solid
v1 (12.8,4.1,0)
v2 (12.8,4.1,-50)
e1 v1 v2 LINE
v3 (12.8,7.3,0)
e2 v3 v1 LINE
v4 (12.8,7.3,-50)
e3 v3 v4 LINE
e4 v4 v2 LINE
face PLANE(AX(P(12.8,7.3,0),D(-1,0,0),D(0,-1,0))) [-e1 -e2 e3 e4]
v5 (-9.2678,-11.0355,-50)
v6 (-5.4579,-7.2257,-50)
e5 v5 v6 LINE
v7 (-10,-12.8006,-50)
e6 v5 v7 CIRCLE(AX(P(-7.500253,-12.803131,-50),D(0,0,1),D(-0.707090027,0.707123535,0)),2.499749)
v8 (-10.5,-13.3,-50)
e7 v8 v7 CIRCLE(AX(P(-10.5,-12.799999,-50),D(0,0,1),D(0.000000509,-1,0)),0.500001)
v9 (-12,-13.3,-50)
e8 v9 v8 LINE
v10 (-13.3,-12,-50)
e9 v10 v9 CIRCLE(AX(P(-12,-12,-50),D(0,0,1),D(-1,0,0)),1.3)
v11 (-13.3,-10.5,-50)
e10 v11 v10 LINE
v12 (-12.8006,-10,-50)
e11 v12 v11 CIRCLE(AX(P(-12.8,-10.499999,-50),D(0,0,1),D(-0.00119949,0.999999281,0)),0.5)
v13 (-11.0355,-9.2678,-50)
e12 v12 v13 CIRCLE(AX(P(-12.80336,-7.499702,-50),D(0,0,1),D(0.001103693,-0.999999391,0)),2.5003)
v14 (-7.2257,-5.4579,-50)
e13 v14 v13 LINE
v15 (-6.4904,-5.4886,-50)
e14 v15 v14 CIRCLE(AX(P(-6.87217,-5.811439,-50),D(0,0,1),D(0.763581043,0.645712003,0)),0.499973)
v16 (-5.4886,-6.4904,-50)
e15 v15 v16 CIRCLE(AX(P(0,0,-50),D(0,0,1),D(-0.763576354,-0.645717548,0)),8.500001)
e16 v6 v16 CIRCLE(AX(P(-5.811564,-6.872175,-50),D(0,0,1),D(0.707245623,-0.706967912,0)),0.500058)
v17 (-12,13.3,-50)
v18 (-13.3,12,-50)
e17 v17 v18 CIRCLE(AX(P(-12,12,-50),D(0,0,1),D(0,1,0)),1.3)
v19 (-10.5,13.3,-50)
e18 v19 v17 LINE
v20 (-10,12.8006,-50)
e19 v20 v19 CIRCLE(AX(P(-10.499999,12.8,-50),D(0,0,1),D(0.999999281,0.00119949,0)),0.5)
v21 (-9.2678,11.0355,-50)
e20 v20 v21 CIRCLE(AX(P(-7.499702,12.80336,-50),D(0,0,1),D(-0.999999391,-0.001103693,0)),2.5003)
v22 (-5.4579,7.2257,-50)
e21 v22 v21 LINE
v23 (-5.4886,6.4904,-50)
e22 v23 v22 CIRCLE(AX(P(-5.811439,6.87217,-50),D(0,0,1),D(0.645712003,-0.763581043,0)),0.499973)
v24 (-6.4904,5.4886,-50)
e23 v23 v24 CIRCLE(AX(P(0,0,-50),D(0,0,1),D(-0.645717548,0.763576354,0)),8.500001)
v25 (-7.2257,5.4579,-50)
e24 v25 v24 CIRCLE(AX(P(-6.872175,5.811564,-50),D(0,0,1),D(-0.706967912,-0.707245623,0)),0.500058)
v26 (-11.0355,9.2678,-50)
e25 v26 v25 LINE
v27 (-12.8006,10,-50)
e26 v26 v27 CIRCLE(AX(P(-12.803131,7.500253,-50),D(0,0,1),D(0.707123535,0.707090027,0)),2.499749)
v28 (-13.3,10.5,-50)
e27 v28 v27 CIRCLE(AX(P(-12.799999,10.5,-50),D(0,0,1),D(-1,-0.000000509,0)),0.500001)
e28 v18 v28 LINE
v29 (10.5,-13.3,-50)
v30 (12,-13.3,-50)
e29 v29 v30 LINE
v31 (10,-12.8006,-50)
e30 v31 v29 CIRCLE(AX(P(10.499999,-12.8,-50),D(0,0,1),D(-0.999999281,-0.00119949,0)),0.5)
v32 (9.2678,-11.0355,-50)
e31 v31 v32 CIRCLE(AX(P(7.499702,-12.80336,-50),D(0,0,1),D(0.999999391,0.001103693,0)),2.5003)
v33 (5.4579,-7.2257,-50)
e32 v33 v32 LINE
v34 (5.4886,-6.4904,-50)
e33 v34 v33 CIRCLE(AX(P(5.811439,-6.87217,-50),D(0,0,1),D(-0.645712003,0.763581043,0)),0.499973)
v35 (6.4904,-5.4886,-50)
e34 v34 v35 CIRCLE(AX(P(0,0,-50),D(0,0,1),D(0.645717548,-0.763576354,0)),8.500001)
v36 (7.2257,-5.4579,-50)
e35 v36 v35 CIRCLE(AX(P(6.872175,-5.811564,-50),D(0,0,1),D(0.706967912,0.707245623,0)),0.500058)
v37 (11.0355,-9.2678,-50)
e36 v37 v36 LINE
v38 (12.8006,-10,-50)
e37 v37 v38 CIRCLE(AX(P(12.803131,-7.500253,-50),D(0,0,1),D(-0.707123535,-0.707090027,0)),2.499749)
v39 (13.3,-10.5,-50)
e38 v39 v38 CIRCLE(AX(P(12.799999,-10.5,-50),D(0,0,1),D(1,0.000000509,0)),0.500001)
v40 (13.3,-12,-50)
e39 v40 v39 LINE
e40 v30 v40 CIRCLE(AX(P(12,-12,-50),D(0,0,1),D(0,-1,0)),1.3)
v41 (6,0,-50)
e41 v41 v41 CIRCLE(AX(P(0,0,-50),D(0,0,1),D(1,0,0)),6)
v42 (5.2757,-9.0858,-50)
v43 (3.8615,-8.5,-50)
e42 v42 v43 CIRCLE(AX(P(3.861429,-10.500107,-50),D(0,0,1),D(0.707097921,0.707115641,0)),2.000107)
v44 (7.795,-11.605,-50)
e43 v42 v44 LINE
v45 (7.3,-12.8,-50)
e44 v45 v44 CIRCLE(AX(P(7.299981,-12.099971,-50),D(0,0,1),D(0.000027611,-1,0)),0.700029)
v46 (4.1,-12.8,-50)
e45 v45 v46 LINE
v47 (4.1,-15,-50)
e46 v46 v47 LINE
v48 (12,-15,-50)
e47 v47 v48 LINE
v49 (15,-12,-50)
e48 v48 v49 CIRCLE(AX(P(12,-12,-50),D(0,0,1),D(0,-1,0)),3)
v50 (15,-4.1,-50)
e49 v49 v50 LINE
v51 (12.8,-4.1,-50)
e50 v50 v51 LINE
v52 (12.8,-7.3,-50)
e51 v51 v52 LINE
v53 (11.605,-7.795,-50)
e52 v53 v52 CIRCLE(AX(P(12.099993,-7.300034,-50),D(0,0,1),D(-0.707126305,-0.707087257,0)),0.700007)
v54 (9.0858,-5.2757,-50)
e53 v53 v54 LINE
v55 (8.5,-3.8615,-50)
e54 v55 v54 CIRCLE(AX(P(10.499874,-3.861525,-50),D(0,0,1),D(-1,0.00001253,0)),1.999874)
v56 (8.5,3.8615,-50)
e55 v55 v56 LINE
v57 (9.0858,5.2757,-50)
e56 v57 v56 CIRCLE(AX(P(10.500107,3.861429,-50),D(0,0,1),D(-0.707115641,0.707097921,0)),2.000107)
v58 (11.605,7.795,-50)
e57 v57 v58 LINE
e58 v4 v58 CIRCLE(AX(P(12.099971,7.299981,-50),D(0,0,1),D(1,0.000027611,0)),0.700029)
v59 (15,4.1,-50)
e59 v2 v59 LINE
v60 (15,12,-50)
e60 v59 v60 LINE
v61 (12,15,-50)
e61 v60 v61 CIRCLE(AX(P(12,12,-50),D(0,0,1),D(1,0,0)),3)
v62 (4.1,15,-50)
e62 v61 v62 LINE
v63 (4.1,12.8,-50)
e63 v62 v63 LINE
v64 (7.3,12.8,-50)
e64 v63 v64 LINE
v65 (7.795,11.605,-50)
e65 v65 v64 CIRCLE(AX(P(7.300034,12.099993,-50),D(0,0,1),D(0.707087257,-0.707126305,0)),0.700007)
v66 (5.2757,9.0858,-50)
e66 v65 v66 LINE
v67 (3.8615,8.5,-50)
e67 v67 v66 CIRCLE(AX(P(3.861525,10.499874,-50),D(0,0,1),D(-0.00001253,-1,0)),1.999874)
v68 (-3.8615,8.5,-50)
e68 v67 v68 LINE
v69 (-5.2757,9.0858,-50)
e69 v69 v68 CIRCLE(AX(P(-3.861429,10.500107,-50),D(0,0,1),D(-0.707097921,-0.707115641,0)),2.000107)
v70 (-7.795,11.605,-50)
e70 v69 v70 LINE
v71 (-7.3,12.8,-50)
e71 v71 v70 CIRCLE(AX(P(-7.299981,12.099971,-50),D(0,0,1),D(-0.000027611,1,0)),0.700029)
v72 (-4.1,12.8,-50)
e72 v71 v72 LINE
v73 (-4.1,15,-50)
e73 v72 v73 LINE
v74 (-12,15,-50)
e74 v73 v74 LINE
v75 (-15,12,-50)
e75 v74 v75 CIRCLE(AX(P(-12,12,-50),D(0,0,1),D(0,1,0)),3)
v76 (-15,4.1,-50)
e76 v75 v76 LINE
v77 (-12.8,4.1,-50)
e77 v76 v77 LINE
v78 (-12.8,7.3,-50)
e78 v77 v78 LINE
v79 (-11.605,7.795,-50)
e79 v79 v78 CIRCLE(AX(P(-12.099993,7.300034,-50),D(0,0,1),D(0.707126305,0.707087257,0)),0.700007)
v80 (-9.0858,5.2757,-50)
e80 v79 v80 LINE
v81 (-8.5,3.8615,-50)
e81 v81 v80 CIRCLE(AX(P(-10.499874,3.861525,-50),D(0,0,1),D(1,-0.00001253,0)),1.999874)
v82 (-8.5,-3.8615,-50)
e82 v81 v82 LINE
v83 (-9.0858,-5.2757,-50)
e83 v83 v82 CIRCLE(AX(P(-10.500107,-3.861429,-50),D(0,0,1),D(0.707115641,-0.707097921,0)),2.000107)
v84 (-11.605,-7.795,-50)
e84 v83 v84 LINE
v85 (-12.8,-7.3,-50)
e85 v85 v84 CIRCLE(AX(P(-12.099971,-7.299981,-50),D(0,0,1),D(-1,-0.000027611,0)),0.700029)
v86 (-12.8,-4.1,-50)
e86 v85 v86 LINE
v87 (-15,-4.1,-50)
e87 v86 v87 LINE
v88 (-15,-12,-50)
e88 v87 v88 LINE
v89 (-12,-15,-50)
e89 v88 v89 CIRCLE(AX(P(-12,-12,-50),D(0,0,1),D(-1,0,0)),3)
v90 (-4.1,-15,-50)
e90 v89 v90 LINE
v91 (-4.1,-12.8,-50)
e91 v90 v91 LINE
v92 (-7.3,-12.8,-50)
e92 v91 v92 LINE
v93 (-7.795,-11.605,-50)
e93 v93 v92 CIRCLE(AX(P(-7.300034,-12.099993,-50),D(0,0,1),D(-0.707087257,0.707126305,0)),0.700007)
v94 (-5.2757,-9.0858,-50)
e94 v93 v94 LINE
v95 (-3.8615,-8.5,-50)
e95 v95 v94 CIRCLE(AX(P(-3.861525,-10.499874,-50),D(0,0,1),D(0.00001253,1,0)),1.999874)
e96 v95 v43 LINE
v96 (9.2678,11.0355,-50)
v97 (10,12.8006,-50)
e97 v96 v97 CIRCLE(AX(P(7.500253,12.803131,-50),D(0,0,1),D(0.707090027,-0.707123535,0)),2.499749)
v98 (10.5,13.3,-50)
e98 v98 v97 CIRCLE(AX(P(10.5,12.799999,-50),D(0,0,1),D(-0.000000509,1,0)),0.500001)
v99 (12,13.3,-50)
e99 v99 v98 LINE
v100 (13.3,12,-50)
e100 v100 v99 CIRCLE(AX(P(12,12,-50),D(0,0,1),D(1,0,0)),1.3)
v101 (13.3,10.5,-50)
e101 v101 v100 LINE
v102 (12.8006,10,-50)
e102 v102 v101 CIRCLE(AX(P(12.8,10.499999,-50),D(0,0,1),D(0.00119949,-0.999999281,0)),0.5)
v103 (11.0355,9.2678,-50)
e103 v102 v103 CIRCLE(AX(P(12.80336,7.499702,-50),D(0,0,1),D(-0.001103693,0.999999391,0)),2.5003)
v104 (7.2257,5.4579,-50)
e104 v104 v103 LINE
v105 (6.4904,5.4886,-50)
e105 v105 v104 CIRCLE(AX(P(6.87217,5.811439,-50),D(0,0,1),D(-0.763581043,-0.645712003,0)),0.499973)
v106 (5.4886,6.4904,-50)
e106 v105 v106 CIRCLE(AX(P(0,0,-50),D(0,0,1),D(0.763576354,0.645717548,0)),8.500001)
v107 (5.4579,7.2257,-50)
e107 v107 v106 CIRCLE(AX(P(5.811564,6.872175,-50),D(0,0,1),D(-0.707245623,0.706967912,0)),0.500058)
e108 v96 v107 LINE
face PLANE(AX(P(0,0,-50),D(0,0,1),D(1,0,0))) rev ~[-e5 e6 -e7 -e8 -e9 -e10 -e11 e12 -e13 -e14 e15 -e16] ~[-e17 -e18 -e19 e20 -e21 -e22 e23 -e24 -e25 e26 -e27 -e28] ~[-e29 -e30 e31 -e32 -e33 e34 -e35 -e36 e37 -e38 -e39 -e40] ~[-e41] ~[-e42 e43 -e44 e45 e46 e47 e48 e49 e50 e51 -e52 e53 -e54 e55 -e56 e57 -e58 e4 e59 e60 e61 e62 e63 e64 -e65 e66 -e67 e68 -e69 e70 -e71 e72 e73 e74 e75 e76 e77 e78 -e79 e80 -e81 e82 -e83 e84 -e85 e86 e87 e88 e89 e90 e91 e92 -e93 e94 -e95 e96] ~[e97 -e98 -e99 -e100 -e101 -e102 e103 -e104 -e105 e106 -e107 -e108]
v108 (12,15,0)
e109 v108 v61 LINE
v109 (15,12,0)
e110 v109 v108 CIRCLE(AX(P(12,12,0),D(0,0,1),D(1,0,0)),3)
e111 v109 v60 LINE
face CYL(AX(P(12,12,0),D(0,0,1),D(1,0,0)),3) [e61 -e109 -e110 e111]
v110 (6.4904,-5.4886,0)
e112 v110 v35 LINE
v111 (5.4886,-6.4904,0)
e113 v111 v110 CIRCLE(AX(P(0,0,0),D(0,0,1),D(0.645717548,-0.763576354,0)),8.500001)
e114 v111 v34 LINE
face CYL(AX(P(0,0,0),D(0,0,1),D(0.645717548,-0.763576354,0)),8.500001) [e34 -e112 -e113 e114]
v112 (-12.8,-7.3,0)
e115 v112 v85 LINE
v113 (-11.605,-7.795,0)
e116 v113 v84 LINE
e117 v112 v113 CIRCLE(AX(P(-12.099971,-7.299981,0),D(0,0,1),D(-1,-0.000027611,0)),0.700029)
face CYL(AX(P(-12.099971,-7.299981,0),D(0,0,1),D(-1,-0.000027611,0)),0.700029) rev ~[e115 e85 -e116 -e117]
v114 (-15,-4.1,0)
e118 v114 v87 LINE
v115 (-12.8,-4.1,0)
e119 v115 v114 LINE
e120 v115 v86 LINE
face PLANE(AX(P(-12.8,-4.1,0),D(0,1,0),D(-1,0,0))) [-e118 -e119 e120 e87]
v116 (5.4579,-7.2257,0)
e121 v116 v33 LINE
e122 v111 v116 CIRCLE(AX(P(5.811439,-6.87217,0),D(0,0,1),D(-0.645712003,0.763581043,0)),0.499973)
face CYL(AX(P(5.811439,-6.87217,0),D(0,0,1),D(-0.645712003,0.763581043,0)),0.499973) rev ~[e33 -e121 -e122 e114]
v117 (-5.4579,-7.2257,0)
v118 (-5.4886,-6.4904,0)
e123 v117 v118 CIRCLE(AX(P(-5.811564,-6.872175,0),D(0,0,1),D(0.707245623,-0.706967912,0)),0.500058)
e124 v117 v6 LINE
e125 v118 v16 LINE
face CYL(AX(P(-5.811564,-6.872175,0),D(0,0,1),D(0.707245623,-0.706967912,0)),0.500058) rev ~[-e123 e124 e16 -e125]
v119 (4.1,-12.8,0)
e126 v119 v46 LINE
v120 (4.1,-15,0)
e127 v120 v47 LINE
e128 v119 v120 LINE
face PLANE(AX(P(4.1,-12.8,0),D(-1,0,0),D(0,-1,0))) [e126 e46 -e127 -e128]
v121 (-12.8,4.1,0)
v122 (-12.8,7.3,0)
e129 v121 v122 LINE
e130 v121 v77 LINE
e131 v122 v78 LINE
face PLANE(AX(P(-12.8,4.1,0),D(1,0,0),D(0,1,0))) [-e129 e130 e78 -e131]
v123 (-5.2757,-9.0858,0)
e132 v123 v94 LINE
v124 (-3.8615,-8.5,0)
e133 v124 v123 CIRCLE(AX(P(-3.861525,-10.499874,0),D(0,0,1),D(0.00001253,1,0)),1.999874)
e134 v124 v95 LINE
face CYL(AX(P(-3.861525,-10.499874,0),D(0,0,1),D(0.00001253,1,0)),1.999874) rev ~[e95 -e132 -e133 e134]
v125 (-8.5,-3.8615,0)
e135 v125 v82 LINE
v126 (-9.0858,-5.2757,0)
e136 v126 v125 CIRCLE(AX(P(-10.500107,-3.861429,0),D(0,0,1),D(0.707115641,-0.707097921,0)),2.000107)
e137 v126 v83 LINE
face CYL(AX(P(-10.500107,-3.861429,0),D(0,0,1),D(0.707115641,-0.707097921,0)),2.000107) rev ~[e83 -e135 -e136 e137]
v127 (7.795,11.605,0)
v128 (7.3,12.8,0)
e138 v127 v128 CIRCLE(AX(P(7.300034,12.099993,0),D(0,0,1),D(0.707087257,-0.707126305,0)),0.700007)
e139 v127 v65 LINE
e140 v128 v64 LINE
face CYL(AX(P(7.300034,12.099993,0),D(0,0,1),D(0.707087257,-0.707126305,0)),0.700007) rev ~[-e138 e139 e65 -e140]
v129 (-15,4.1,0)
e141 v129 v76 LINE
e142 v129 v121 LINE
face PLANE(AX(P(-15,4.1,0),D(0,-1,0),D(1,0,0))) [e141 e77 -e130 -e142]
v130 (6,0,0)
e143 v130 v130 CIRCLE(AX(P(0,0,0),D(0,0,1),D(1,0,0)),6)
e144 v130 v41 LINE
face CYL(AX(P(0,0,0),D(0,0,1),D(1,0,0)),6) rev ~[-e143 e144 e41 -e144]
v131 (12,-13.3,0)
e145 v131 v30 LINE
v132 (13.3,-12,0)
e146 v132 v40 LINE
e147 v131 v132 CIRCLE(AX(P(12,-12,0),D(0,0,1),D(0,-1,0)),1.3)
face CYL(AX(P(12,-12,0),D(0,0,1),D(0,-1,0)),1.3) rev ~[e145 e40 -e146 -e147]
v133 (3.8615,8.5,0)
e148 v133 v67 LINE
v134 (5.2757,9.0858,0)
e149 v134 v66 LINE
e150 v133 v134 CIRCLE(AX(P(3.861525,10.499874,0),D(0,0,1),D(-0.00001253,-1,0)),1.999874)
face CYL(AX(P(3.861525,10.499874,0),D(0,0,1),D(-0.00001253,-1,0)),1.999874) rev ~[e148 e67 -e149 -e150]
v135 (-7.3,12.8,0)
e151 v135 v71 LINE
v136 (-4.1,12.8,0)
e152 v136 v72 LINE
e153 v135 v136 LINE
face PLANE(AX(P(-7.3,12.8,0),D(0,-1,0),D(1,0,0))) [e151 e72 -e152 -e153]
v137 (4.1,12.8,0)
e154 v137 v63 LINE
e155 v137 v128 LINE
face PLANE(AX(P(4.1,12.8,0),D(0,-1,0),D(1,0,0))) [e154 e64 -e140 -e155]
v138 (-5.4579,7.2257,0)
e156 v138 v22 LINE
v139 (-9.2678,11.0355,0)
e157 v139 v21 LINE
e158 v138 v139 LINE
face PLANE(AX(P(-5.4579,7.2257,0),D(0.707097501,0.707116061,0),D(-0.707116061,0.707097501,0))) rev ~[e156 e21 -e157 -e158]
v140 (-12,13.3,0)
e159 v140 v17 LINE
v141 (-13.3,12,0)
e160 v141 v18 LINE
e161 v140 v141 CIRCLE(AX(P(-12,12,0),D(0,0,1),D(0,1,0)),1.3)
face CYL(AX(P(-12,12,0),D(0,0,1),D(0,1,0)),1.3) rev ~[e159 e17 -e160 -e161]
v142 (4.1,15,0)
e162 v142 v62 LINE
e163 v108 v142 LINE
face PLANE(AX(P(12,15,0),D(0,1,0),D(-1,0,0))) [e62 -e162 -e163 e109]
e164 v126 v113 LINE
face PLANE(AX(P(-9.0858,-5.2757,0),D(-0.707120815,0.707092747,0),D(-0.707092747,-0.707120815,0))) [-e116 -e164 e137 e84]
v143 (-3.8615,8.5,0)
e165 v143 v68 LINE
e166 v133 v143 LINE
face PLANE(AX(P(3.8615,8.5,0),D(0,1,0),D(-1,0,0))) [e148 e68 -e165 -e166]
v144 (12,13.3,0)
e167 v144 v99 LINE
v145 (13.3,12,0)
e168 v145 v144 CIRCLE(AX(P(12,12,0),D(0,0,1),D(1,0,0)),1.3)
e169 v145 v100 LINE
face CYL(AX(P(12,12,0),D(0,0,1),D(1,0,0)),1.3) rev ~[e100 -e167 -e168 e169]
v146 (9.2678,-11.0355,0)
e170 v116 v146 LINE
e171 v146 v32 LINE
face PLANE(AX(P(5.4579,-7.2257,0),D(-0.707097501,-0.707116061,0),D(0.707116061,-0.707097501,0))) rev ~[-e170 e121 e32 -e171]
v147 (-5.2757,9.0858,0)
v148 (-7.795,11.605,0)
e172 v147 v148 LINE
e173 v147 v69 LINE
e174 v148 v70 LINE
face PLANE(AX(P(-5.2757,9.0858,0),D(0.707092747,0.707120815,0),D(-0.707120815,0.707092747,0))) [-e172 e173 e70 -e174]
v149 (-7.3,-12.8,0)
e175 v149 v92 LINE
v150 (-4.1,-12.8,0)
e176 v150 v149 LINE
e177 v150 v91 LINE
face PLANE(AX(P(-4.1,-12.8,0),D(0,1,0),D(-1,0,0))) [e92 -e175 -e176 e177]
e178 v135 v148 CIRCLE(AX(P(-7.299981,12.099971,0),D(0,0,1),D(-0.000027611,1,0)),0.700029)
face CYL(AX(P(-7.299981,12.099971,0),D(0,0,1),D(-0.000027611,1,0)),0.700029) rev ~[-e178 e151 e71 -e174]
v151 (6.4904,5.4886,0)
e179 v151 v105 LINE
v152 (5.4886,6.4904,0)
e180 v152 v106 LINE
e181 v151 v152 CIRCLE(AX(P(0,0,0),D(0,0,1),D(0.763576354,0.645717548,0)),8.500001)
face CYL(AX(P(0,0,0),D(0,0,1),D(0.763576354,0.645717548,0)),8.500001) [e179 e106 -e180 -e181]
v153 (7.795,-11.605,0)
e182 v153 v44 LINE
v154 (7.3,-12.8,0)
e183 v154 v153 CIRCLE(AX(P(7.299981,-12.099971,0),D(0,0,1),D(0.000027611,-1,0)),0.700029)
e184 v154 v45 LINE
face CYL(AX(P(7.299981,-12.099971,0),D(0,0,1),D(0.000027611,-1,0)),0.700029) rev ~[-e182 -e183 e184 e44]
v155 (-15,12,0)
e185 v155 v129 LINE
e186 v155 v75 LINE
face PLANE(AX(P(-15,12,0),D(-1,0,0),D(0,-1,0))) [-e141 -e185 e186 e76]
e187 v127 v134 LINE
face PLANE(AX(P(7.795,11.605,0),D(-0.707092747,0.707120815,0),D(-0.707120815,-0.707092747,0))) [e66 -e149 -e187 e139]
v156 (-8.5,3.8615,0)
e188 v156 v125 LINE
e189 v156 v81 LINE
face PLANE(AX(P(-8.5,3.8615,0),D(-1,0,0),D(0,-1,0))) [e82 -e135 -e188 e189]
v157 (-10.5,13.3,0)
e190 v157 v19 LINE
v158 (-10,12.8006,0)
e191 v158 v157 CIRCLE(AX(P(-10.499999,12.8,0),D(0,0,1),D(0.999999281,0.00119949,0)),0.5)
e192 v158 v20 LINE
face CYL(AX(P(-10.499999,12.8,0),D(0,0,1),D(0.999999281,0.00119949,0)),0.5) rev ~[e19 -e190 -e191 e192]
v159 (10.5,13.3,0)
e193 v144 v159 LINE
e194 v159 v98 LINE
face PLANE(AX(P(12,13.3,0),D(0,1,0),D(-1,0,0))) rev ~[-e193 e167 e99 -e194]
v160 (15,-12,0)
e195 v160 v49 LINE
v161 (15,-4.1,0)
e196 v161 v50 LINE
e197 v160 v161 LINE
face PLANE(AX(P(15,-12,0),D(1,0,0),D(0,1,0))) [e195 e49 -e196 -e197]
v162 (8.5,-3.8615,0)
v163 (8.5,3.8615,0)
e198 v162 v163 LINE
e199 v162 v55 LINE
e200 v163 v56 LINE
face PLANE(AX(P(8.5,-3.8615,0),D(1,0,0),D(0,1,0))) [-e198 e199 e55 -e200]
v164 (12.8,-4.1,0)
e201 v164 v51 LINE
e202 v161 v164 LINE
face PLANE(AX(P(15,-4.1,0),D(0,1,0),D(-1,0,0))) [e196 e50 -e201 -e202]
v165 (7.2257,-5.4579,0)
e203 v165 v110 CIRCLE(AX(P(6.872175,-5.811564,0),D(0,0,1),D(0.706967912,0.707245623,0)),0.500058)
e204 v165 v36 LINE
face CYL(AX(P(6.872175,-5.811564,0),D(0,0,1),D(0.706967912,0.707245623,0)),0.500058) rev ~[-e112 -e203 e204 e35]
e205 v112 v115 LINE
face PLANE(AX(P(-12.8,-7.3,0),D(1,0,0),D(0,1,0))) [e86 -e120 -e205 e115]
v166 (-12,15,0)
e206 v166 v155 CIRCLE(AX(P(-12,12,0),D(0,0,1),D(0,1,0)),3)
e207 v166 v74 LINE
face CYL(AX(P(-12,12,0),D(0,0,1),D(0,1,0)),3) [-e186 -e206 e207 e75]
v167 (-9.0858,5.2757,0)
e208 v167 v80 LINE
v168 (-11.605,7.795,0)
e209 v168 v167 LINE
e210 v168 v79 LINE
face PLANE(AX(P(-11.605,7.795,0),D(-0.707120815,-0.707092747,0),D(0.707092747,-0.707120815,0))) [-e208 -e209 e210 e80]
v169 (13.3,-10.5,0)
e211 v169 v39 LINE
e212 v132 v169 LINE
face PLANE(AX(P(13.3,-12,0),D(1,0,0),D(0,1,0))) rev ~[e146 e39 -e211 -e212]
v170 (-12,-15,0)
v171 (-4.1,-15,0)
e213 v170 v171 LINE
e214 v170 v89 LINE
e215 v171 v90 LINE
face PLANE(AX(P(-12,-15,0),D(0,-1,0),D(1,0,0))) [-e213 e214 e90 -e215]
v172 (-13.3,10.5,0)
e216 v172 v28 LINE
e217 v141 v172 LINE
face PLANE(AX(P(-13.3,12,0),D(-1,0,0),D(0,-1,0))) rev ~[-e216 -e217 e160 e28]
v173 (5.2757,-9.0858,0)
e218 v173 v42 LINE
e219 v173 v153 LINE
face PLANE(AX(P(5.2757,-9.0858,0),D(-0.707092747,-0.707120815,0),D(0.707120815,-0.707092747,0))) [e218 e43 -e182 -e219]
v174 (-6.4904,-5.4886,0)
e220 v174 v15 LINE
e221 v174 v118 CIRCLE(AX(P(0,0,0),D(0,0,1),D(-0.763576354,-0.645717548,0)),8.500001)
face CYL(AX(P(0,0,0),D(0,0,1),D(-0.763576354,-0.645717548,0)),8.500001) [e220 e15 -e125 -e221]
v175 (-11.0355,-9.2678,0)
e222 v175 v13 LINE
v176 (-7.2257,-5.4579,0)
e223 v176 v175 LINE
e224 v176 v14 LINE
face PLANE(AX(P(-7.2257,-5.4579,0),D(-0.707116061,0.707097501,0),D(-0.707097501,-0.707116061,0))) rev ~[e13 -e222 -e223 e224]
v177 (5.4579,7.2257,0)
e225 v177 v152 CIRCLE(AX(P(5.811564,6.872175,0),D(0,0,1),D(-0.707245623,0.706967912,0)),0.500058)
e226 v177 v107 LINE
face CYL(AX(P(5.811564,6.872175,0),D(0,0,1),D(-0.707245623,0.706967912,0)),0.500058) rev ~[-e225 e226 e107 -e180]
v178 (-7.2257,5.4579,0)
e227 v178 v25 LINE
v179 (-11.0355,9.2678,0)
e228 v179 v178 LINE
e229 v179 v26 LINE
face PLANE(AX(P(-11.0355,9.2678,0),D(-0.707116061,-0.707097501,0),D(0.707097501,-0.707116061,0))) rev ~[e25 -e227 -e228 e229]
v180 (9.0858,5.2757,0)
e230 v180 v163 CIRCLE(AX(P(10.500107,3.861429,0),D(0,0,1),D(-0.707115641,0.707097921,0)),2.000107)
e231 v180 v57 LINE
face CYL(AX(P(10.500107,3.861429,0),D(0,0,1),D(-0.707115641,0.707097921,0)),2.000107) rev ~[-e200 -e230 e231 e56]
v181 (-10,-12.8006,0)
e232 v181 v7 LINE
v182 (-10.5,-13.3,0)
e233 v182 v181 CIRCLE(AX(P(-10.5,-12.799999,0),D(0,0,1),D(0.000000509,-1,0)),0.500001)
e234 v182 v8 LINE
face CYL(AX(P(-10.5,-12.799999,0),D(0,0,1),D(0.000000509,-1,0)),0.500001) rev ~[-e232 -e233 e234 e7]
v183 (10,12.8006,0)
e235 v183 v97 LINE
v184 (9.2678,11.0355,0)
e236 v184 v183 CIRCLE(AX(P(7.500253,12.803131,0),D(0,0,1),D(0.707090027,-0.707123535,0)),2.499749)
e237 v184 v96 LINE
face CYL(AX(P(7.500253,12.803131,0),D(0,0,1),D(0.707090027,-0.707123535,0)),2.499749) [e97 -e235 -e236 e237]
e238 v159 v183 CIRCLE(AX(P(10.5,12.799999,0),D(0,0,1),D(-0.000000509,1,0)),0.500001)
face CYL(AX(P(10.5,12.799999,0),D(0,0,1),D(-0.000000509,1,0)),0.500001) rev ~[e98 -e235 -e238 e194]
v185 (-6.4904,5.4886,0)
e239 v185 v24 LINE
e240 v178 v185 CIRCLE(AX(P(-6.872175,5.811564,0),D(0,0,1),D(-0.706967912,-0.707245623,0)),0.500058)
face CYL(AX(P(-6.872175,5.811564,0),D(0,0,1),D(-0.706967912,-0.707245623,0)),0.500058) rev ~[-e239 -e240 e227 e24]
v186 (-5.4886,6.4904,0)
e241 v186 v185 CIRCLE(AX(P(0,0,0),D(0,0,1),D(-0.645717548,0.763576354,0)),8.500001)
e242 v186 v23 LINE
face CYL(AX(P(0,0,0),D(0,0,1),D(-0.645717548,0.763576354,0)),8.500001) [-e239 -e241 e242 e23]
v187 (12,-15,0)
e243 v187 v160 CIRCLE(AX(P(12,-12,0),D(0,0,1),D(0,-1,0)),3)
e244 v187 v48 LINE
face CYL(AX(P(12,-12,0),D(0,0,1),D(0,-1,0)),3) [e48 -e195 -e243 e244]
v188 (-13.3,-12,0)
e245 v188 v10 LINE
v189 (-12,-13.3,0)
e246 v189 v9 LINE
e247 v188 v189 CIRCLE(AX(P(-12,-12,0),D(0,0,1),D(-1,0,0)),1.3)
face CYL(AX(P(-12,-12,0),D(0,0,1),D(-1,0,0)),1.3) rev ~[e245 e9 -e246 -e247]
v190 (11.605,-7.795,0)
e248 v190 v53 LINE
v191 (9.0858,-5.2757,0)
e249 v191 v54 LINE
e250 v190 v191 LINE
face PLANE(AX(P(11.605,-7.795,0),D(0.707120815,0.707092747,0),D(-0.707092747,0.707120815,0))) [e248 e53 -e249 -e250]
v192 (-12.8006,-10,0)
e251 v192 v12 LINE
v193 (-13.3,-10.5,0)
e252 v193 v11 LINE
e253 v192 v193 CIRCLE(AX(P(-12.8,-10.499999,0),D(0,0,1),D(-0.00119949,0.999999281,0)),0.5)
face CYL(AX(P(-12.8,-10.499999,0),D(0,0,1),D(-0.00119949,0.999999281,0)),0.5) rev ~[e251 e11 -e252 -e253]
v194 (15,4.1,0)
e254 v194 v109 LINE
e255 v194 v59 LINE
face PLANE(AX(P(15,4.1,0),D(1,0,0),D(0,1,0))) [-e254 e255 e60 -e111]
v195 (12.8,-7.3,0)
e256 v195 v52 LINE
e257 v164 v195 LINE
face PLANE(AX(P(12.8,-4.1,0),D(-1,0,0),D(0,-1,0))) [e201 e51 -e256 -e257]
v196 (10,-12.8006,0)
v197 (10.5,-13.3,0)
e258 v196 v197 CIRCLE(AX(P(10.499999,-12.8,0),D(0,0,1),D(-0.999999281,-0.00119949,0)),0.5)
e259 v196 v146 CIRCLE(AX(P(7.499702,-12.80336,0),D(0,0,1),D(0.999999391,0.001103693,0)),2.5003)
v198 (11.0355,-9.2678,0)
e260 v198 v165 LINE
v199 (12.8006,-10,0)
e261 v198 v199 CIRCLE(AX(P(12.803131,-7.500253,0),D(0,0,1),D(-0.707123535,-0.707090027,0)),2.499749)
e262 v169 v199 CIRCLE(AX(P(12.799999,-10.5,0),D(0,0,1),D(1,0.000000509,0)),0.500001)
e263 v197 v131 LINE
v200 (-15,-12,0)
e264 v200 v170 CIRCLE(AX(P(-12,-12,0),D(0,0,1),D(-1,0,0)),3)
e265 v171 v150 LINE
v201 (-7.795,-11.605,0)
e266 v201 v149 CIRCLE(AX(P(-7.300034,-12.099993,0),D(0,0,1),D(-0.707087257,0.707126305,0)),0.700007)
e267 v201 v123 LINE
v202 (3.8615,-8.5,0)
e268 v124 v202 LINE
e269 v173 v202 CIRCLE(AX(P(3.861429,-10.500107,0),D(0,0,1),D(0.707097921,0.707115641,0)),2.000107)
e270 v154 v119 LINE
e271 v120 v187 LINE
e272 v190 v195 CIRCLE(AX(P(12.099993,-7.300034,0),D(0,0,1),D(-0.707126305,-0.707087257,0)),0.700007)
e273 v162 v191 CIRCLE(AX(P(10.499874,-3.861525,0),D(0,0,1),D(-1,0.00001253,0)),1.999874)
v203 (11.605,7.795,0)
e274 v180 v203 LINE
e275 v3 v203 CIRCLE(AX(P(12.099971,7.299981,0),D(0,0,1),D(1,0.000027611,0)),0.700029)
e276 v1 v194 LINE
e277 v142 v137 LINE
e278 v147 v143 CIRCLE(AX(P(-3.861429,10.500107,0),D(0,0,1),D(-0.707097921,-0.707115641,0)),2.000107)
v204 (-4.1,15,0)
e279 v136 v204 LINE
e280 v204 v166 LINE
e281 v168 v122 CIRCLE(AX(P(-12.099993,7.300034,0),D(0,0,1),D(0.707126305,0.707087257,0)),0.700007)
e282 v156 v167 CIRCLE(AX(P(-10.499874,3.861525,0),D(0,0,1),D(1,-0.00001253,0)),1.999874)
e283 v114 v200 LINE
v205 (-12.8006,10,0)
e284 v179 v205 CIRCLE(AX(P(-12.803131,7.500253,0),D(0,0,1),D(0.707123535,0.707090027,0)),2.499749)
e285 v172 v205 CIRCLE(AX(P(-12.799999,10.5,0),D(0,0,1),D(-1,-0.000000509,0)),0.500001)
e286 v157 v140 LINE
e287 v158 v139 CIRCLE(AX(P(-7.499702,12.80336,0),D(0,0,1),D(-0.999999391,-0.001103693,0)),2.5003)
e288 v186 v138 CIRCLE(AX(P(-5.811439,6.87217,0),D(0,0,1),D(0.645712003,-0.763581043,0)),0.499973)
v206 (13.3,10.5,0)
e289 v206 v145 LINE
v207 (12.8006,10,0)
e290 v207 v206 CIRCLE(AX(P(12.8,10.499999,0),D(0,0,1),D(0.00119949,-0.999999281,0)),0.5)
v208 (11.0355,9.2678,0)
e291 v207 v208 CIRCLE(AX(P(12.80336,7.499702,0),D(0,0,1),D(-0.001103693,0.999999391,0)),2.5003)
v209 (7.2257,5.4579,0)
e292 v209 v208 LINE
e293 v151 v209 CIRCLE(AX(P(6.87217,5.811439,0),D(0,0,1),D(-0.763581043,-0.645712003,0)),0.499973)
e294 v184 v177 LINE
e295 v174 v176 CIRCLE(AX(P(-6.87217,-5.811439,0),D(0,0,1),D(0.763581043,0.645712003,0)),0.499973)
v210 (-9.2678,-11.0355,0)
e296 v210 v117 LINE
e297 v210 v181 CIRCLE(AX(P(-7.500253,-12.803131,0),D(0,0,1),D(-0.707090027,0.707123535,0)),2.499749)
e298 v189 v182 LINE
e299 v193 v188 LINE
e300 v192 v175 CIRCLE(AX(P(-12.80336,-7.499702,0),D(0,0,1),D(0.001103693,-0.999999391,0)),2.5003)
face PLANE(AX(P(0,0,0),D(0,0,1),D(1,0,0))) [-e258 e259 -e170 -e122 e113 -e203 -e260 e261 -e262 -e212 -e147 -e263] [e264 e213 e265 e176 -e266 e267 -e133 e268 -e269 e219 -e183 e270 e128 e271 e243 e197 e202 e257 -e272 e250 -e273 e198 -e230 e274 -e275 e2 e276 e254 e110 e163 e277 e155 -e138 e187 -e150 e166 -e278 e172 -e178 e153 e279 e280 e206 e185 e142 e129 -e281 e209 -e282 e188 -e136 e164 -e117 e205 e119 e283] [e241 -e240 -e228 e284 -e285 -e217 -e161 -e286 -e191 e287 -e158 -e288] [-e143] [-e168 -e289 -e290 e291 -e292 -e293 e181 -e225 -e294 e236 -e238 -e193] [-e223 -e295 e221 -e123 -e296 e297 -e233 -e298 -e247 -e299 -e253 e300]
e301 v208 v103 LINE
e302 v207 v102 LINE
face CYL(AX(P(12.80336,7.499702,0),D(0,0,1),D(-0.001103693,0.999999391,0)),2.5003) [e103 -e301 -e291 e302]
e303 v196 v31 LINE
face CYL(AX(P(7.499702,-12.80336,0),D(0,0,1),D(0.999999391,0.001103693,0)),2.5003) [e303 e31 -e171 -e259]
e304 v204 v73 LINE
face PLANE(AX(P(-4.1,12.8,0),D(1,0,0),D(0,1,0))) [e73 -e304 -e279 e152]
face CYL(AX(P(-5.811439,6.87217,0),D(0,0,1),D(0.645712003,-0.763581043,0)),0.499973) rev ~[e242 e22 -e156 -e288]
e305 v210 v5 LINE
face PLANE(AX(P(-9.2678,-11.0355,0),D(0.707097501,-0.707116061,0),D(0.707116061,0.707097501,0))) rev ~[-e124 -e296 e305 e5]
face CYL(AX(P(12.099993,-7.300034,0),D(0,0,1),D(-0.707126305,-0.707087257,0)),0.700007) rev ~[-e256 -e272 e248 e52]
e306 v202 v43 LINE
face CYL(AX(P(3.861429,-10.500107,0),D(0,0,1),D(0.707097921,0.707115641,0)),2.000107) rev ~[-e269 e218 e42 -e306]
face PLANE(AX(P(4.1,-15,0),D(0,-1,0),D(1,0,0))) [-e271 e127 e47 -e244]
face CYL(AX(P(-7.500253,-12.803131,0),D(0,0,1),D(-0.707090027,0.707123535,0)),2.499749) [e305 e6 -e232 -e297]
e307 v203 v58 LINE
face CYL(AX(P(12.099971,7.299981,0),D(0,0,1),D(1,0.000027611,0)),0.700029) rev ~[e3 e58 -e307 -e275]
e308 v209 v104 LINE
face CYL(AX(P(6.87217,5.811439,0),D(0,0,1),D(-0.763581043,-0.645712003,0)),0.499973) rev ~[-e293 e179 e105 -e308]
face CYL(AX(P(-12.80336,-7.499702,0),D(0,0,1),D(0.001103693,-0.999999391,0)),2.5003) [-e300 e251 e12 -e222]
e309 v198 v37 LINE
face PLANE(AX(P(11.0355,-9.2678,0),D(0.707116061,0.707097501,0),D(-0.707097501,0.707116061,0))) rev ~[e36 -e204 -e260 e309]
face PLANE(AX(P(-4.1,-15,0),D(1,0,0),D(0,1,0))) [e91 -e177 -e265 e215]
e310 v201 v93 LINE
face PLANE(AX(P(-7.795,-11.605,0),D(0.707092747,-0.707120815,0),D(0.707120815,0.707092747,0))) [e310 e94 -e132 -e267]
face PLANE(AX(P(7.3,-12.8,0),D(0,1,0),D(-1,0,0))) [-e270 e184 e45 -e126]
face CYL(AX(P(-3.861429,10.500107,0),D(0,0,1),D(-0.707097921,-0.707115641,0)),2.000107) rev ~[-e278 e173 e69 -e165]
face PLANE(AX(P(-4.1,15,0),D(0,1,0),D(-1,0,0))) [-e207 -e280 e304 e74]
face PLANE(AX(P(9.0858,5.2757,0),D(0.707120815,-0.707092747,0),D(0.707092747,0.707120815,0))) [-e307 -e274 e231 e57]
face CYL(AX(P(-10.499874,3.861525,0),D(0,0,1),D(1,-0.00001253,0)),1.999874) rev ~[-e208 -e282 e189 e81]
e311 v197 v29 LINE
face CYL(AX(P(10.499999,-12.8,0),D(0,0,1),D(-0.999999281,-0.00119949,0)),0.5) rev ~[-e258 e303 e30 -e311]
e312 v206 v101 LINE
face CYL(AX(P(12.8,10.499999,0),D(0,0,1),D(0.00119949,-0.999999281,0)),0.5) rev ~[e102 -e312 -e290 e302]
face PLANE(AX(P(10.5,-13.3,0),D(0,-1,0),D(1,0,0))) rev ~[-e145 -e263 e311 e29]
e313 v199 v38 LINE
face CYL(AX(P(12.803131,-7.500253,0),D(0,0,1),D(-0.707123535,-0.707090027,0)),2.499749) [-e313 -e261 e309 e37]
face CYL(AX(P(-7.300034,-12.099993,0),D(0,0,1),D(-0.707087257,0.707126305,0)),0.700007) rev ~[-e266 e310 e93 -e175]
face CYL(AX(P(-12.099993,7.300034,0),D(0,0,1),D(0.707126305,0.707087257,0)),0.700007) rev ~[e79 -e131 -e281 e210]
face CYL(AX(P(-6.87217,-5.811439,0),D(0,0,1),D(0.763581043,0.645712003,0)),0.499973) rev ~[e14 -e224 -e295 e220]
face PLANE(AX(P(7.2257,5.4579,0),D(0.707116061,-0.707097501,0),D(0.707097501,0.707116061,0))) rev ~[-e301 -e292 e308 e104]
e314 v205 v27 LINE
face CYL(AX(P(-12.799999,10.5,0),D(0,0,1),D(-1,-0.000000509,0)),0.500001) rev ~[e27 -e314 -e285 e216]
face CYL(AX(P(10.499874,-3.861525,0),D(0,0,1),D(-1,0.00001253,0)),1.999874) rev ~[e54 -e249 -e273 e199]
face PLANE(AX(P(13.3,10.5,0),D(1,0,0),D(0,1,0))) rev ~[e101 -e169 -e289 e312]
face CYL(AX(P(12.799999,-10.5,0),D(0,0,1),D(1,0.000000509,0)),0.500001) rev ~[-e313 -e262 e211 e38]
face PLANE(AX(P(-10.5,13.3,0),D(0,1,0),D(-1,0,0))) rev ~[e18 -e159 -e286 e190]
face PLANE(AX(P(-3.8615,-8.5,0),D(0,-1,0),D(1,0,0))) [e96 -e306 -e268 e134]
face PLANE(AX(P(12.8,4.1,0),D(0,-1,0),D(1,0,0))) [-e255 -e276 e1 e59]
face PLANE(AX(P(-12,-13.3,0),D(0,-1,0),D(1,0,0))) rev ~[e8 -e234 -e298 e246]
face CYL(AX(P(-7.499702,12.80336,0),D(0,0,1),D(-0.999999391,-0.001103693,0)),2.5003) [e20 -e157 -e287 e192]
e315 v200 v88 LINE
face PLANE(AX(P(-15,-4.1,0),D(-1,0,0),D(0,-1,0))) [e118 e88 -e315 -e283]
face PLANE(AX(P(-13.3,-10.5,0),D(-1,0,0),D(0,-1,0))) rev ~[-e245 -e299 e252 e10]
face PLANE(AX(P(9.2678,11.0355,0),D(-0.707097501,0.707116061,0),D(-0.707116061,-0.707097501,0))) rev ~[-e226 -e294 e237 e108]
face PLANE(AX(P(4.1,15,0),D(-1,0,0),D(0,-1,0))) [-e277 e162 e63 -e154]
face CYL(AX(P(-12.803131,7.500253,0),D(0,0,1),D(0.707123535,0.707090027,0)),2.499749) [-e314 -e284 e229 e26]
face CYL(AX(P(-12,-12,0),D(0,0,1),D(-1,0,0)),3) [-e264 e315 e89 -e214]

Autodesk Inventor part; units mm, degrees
sketch "Skizze_1" plane through (0, 0, 0) normal (0, 0, 1) x (1, 0, 0)
  line L0 (-15, 4.1) -> (-12.8, 4.1)
  line L1 (-12.8, 4.1) -> (-12.8, 7.3)
  arc A0 (-11.605, 7.795) -> (-12.8, 7.3) centre (-12.1, 7.3) ccw
  line L2 (-11.605, 7.795) -> (-9.0858, 5.2757)
  arc A1 (-8.5, 3.8615) -> (-9.0858, 5.2757) centre (-10.5, 3.8615) ccw
  line L3 (-8.5, 3.8615) -> (-8.5, -3.8615)
  arc A2 (-9.0858, -5.2757) -> (-8.5, -3.8615) centre (-10.5, -3.8615) ccw
  line L4 (-9.0858, -5.2757) -> (-11.605, -7.795)
  arc A3 (-12.8, -7.3) -> (-11.605, -7.795) centre (-12.1, -7.3) ccw
  line L5 (-12.8, -7.3) -> (-12.8, -4.1)
  line L6 (-12.8, -4.1) -> (-15, -4.1)
  line L7 (-15, -4.1) -> (-15, -12)
  arc A4 (-15, -12) -> (-12, -15) centre (-12, -12) ccw
  line L8 (-12, -15) -> (-4.1, -15)
  line L9 (-4.1, -15) -> (-4.1, -12.8)
  line L10 (-4.1, -12.8) -> (-7.3, -12.8)
  arc A5 (-7.795, -11.605) -> (-7.3, -12.8) centre (-7.3, -12.1) ccw
  line L11 (-7.795, -11.605) -> (-5.2757, -9.0858)
  arc A6 (-3.8615, -8.5) -> (-5.2757, -9.0858) centre (-3.8615, -10.5) ccw
  line L12 (-3.8615, -8.5) -> (3.8615, -8.5)
  arc A7 (5.2757, -9.0858) -> (3.8615, -8.5) centre (3.8615, -10.5) ccw
  line L13 (5.2757, -9.0858) -> (7.795, -11.605)
  arc A8 (7.3, -12.8) -> (7.795, -11.605) centre (7.3, -12.1) ccw
  line L14 (7.3, -12.8) -> (4.1, -12.8)
  line L15 (4.1, -12.8) -> (4.1, -15)
  line L16 (4.1, -15) -> (12, -15)
  arc A9 (12, -15) -> (15, -12) centre (12, -12) ccw
  line L17 (15, -12) -> (15, -4.1)
  line L18 (15, -4.1) -> (12.8, -4.1)
  line L19 (12.8, -4.1) -> (12.8, -7.3)
  arc A10 (11.605, -7.795) -> (12.8, -7.3) centre (12.1, -7.3) ccw
  line L20 (11.605, -7.795) -> (9.0858, -5.2757)
  arc A11 (8.5, -3.8615) -> (9.0858, -5.2757) centre (10.5, -3.8615) ccw
  line L21 (8.5, -3.8615) -> (8.5, 3.8615)
  arc A12 (9.0858, 5.2757) -> (8.5, 3.8615) centre (10.5, 3.8615) ccw
  line L22 (9.0858, 5.2757) -> (11.605, 7.795)
  arc A13 (12.8, 7.3) -> (11.605, 7.795) centre (12.1, 7.3) ccw
  line L23 (12.8, 7.3) -> (12.8, 4.1)
  line L24 (12.8, 4.1) -> (15, 4.1)
  line L25 (15, 4.1) -> (15, 12)
  arc A14 (15, 12) -> (12, 15) centre (12, 12) ccw
  line L26 (12, 15) -> (4.1, 15)
  line L27 (4.1, 15) -> (4.1, 12.8)
  line L28 (4.1, 12.8) -> (7.3, 12.8)
  arc A15 (7.795, 11.605) -> (7.3, 12.8) centre (7.3, 12.1) ccw
  line L29 (7.795, 11.605) -> (5.2757, 9.0858)
  arc A16 (3.8615, 8.5) -> (5.2757, 9.0858) centre (3.8615, 10.5) ccw
  line L30 (3.8615, 8.5) -> (-3.8615, 8.5)
  arc A17 (-5.2757, 9.0858) -> (-3.8615, 8.5) centre (-3.8615, 10.5) ccw
  line L31 (-5.2757, 9.0858) -> (-7.795, 11.605)
  arc A18 (-7.3, 12.8) -> (-7.795, 11.605) centre (-7.3, 12.1) ccw
  line L32 (-7.3, 12.8) -> (-4.1, 12.8)
  line L33 (-4.1, 12.8) -> (-4.1, 15)
  line L34 (-4.1, 15) -> (-12, 15)
  arc A19 (-12, 15) -> (-15, 12) centre (-12, 12) ccw
  line L35 (-15, 12) -> (-15, 4.1)
  arc A20 (5.4886, -6.4904) -> (5.4579, -7.2257) centre (5.8115, -6.8722) ccw
  line L36 (5.4579, -7.2257) -> (9.2678, -11.0355)
  arc A21 (10, -12.8006) -> (9.2678, -11.0355) centre (7.5, -12.8033) ccw
  arc A22 (10, -12.8006) -> (10.5, -13.3) centre (10.5, -12.8) ccw
  line L37 (10.5, -13.3) -> (12, -13.3)
  arc A23 (12, -13.3) -> (13.3, -12) centre (12, -12) ccw
  line L38 (13.3, -12) -> (13.3, -10.5)
  arc A24 (13.3, -10.5) -> (12.8006, -10) centre (12.8, -10.5) ccw
  arc A25 (11.0355, -9.2678) -> (12.8006, -10) centre (12.8033, -7.5) ccw
  line L39 (11.0355, -9.2678) -> (7.2257, -5.4579)
  arc A26 (7.2257, -5.4579) -> (6.4904, -5.4886) centre (6.8722, -5.8115) ccw
  arc A27 (5.4886, -6.4904) -> (6.4904, -5.4886) centre (0, 0) ccw
  arc A28 (5.4579, 7.2257) -> (5.4886, 6.4904) centre (5.8115, 6.8722) ccw
  arc A29 (6.4904, 5.4886) -> (5.4886, 6.4904) centre (0, 0) ccw
  arc A30 (6.4904, 5.4886) -> (7.2257, 5.4579) centre (6.8722, 5.8115) ccw
  line L40 (7.2257, 5.4579) -> (11.0355, 9.2678)
  arc A31 (12.8006, 10) -> (11.0355, 9.2678) centre (12.8033, 7.5) ccw
  arc A32 (12.8006, 10) -> (13.3, 10.5) centre (12.8, 10.5) ccw
  line L41 (13.3, 10.5) -> (13.3, 12)
  arc A33 (13.3, 12) -> (12, 13.3) centre (12, 12) ccw
  line L42 (12, 13.3) -> (10.5, 13.3)
  arc A34 (10.5, 13.3) -> (10, 12.8006) centre (10.5, 12.8) ccw
  arc A35 (9.2678, 11.0355) -> (10, 12.8006) centre (7.5, 12.8033) ccw
  line L43 (9.2678, 11.0355) -> (5.4579, 7.2257)
  circle A36 centre (0, 0) radius 6
  line L44 (-13.3, 12) -> (-13.3, 10.5)
  arc A37 (-13.3, 10.5) -> (-12.8006, 10) centre (-12.8, 10.5) ccw
  arc A38 (-11.0355, 9.2678) -> (-12.8006, 10) centre (-12.8033, 7.5) ccw
  line L45 (-11.0355, 9.2678) -> (-7.2257, 5.4579)
  arc A39 (-7.2257, 5.4579) -> (-6.4904, 5.4886) centre (-6.8722, 5.8115) ccw
  arc A40 (-5.4886, 6.4904) -> (-6.4904, 5.4886) centre (0, 0) ccw
  arc A41 (-5.4886, 6.4904) -> (-5.4579, 7.2257) centre (-5.8115, 6.8722) ccw
  line L46 (-5.4579, 7.2257) -> (-9.2678, 11.0355)
  arc A42 (-10, 12.8006) -> (-9.2678, 11.0355) centre (-7.5, 12.8033) ccw
  arc A43 (-10, 12.8006) -> (-10.5, 13.3) centre (-10.5, 12.8) ccw
  line L47 (-10.5, 13.3) -> (-12, 13.3)
  arc A44 (-12, 13.3) -> (-13.3, 12) centre (-12, 12) ccw
  line L48 (-13.3, -10.5) -> (-13.3, -12)
  arc A45 (-13.3, -12) -> (-12, -13.3) centre (-12, -12) ccw
  line L49 (-12, -13.3) -> (-10.5, -13.3)
  arc A46 (-10.5, -13.3) -> (-10, -12.8006) centre (-10.5, -12.8) ccw
  arc A47 (-9.2678, -11.0355) -> (-10, -12.8006) centre (-7.5, -12.8033) ccw
  line L50 (-9.2678, -11.0355) -> (-5.4579, -7.2257)
  arc A48 (-5.4579, -7.2257) -> (-5.4886, -6.4904) centre (-5.8115, -6.8722) ccw
  arc A49 (-6.4904, -5.4886) -> (-5.4886, -6.4904) centre (0, 0) ccw
  arc A50 (-6.4904, -5.4886) -> (-7.2257, -5.4579) centre (-6.8722, -5.8115) ccw
  line L51 (-7.2257, -5.4579) -> (-11.0355, -9.2678)
  arc A51 (-12.8006, -10) -> (-11.0355, -9.2678) centre (-12.8033, -7.5) ccw
  arc A52 (-12.8006, -10) -> (-13.3, -10.5) centre (-12.8, -10.5) ccw
extrude "Extrusion1" add sketch "Skizze_1" against normal blind 50
ref_plane "end_XY" through (0, 0, -50) normal (0, 0, -1) x (1, 0, 0)
ref_plane "end_YZ" through (0, 0, -50) normal (1, 0, 0) x (0, -1, 0)
ref_plane "end_ZX" through (0, 0, -50) normal (0, -1, 0) x (0, 0, -1)
ref_plane "side_1a_XY" through (0, 15, -25) normal (0, 1, 0) x (1, 0, 0)
ref_plane "side_1a_YZ" through (0, 15, -25) normal (1, 0, 0) x (0, 0, -1)
ref_plane "side_1a_ZX" through (0, 15, -25) normal (0, 0, -1) x (0, 1, 0)
ref_plane "side_2b_XY" through (15, 0, -25) normal (1, 0, 0) x (0, -1, 0)
ref_plane "side_2b_YZ" through (15, 0, -25) normal (0, -1, 0) x (0, 0, -1)
ref_plane "side_2b_ZX" through (15, 0, -25) normal (0, 0, -1) x (1, 0, 0)
ref_plane "side_3c_XY" through (0, -15, -25) normal (0, -1, 0) x (-1, 0, 0)
ref_plane "side_3c_YZ" through (0, -15, -25) normal (-1, 0, 0) x (0, 0, -1)
ref_plane "side_3c_ZX" through (0, -15, -25) normal (0, 0, -1) x (0, -1, 0)
ref_plane "side_4d_XY" through (-15, 0, -25) normal (-1, 0, 0) x (0, 1, 0)
ref_plane "side_4d_YZ" through (-15, 0, -25) normal (0, 1, 0) x (0, 0, -1)
ref_plane "side_4d_ZX" through (-15, 0, -25) normal (0, 0, -1) x (-1, 0, 0)
ref_plane "start_XY" through (0, 0, 0) normal (0, 0, 1) x (1, 0, 0)
ref_plane "start_YZ" through (0, 0, 0) normal (1, 0, 0) x (0, 1, 0)
ref_plane "start_ZX" through (0, 0, 0) normal (0, 1, 0) x (0, 0, 1)
properties part number "MayTec 1.11.030030.43SP_Profile 30x30. 4F, SP_50_Detail_(0;0,0,0)"
